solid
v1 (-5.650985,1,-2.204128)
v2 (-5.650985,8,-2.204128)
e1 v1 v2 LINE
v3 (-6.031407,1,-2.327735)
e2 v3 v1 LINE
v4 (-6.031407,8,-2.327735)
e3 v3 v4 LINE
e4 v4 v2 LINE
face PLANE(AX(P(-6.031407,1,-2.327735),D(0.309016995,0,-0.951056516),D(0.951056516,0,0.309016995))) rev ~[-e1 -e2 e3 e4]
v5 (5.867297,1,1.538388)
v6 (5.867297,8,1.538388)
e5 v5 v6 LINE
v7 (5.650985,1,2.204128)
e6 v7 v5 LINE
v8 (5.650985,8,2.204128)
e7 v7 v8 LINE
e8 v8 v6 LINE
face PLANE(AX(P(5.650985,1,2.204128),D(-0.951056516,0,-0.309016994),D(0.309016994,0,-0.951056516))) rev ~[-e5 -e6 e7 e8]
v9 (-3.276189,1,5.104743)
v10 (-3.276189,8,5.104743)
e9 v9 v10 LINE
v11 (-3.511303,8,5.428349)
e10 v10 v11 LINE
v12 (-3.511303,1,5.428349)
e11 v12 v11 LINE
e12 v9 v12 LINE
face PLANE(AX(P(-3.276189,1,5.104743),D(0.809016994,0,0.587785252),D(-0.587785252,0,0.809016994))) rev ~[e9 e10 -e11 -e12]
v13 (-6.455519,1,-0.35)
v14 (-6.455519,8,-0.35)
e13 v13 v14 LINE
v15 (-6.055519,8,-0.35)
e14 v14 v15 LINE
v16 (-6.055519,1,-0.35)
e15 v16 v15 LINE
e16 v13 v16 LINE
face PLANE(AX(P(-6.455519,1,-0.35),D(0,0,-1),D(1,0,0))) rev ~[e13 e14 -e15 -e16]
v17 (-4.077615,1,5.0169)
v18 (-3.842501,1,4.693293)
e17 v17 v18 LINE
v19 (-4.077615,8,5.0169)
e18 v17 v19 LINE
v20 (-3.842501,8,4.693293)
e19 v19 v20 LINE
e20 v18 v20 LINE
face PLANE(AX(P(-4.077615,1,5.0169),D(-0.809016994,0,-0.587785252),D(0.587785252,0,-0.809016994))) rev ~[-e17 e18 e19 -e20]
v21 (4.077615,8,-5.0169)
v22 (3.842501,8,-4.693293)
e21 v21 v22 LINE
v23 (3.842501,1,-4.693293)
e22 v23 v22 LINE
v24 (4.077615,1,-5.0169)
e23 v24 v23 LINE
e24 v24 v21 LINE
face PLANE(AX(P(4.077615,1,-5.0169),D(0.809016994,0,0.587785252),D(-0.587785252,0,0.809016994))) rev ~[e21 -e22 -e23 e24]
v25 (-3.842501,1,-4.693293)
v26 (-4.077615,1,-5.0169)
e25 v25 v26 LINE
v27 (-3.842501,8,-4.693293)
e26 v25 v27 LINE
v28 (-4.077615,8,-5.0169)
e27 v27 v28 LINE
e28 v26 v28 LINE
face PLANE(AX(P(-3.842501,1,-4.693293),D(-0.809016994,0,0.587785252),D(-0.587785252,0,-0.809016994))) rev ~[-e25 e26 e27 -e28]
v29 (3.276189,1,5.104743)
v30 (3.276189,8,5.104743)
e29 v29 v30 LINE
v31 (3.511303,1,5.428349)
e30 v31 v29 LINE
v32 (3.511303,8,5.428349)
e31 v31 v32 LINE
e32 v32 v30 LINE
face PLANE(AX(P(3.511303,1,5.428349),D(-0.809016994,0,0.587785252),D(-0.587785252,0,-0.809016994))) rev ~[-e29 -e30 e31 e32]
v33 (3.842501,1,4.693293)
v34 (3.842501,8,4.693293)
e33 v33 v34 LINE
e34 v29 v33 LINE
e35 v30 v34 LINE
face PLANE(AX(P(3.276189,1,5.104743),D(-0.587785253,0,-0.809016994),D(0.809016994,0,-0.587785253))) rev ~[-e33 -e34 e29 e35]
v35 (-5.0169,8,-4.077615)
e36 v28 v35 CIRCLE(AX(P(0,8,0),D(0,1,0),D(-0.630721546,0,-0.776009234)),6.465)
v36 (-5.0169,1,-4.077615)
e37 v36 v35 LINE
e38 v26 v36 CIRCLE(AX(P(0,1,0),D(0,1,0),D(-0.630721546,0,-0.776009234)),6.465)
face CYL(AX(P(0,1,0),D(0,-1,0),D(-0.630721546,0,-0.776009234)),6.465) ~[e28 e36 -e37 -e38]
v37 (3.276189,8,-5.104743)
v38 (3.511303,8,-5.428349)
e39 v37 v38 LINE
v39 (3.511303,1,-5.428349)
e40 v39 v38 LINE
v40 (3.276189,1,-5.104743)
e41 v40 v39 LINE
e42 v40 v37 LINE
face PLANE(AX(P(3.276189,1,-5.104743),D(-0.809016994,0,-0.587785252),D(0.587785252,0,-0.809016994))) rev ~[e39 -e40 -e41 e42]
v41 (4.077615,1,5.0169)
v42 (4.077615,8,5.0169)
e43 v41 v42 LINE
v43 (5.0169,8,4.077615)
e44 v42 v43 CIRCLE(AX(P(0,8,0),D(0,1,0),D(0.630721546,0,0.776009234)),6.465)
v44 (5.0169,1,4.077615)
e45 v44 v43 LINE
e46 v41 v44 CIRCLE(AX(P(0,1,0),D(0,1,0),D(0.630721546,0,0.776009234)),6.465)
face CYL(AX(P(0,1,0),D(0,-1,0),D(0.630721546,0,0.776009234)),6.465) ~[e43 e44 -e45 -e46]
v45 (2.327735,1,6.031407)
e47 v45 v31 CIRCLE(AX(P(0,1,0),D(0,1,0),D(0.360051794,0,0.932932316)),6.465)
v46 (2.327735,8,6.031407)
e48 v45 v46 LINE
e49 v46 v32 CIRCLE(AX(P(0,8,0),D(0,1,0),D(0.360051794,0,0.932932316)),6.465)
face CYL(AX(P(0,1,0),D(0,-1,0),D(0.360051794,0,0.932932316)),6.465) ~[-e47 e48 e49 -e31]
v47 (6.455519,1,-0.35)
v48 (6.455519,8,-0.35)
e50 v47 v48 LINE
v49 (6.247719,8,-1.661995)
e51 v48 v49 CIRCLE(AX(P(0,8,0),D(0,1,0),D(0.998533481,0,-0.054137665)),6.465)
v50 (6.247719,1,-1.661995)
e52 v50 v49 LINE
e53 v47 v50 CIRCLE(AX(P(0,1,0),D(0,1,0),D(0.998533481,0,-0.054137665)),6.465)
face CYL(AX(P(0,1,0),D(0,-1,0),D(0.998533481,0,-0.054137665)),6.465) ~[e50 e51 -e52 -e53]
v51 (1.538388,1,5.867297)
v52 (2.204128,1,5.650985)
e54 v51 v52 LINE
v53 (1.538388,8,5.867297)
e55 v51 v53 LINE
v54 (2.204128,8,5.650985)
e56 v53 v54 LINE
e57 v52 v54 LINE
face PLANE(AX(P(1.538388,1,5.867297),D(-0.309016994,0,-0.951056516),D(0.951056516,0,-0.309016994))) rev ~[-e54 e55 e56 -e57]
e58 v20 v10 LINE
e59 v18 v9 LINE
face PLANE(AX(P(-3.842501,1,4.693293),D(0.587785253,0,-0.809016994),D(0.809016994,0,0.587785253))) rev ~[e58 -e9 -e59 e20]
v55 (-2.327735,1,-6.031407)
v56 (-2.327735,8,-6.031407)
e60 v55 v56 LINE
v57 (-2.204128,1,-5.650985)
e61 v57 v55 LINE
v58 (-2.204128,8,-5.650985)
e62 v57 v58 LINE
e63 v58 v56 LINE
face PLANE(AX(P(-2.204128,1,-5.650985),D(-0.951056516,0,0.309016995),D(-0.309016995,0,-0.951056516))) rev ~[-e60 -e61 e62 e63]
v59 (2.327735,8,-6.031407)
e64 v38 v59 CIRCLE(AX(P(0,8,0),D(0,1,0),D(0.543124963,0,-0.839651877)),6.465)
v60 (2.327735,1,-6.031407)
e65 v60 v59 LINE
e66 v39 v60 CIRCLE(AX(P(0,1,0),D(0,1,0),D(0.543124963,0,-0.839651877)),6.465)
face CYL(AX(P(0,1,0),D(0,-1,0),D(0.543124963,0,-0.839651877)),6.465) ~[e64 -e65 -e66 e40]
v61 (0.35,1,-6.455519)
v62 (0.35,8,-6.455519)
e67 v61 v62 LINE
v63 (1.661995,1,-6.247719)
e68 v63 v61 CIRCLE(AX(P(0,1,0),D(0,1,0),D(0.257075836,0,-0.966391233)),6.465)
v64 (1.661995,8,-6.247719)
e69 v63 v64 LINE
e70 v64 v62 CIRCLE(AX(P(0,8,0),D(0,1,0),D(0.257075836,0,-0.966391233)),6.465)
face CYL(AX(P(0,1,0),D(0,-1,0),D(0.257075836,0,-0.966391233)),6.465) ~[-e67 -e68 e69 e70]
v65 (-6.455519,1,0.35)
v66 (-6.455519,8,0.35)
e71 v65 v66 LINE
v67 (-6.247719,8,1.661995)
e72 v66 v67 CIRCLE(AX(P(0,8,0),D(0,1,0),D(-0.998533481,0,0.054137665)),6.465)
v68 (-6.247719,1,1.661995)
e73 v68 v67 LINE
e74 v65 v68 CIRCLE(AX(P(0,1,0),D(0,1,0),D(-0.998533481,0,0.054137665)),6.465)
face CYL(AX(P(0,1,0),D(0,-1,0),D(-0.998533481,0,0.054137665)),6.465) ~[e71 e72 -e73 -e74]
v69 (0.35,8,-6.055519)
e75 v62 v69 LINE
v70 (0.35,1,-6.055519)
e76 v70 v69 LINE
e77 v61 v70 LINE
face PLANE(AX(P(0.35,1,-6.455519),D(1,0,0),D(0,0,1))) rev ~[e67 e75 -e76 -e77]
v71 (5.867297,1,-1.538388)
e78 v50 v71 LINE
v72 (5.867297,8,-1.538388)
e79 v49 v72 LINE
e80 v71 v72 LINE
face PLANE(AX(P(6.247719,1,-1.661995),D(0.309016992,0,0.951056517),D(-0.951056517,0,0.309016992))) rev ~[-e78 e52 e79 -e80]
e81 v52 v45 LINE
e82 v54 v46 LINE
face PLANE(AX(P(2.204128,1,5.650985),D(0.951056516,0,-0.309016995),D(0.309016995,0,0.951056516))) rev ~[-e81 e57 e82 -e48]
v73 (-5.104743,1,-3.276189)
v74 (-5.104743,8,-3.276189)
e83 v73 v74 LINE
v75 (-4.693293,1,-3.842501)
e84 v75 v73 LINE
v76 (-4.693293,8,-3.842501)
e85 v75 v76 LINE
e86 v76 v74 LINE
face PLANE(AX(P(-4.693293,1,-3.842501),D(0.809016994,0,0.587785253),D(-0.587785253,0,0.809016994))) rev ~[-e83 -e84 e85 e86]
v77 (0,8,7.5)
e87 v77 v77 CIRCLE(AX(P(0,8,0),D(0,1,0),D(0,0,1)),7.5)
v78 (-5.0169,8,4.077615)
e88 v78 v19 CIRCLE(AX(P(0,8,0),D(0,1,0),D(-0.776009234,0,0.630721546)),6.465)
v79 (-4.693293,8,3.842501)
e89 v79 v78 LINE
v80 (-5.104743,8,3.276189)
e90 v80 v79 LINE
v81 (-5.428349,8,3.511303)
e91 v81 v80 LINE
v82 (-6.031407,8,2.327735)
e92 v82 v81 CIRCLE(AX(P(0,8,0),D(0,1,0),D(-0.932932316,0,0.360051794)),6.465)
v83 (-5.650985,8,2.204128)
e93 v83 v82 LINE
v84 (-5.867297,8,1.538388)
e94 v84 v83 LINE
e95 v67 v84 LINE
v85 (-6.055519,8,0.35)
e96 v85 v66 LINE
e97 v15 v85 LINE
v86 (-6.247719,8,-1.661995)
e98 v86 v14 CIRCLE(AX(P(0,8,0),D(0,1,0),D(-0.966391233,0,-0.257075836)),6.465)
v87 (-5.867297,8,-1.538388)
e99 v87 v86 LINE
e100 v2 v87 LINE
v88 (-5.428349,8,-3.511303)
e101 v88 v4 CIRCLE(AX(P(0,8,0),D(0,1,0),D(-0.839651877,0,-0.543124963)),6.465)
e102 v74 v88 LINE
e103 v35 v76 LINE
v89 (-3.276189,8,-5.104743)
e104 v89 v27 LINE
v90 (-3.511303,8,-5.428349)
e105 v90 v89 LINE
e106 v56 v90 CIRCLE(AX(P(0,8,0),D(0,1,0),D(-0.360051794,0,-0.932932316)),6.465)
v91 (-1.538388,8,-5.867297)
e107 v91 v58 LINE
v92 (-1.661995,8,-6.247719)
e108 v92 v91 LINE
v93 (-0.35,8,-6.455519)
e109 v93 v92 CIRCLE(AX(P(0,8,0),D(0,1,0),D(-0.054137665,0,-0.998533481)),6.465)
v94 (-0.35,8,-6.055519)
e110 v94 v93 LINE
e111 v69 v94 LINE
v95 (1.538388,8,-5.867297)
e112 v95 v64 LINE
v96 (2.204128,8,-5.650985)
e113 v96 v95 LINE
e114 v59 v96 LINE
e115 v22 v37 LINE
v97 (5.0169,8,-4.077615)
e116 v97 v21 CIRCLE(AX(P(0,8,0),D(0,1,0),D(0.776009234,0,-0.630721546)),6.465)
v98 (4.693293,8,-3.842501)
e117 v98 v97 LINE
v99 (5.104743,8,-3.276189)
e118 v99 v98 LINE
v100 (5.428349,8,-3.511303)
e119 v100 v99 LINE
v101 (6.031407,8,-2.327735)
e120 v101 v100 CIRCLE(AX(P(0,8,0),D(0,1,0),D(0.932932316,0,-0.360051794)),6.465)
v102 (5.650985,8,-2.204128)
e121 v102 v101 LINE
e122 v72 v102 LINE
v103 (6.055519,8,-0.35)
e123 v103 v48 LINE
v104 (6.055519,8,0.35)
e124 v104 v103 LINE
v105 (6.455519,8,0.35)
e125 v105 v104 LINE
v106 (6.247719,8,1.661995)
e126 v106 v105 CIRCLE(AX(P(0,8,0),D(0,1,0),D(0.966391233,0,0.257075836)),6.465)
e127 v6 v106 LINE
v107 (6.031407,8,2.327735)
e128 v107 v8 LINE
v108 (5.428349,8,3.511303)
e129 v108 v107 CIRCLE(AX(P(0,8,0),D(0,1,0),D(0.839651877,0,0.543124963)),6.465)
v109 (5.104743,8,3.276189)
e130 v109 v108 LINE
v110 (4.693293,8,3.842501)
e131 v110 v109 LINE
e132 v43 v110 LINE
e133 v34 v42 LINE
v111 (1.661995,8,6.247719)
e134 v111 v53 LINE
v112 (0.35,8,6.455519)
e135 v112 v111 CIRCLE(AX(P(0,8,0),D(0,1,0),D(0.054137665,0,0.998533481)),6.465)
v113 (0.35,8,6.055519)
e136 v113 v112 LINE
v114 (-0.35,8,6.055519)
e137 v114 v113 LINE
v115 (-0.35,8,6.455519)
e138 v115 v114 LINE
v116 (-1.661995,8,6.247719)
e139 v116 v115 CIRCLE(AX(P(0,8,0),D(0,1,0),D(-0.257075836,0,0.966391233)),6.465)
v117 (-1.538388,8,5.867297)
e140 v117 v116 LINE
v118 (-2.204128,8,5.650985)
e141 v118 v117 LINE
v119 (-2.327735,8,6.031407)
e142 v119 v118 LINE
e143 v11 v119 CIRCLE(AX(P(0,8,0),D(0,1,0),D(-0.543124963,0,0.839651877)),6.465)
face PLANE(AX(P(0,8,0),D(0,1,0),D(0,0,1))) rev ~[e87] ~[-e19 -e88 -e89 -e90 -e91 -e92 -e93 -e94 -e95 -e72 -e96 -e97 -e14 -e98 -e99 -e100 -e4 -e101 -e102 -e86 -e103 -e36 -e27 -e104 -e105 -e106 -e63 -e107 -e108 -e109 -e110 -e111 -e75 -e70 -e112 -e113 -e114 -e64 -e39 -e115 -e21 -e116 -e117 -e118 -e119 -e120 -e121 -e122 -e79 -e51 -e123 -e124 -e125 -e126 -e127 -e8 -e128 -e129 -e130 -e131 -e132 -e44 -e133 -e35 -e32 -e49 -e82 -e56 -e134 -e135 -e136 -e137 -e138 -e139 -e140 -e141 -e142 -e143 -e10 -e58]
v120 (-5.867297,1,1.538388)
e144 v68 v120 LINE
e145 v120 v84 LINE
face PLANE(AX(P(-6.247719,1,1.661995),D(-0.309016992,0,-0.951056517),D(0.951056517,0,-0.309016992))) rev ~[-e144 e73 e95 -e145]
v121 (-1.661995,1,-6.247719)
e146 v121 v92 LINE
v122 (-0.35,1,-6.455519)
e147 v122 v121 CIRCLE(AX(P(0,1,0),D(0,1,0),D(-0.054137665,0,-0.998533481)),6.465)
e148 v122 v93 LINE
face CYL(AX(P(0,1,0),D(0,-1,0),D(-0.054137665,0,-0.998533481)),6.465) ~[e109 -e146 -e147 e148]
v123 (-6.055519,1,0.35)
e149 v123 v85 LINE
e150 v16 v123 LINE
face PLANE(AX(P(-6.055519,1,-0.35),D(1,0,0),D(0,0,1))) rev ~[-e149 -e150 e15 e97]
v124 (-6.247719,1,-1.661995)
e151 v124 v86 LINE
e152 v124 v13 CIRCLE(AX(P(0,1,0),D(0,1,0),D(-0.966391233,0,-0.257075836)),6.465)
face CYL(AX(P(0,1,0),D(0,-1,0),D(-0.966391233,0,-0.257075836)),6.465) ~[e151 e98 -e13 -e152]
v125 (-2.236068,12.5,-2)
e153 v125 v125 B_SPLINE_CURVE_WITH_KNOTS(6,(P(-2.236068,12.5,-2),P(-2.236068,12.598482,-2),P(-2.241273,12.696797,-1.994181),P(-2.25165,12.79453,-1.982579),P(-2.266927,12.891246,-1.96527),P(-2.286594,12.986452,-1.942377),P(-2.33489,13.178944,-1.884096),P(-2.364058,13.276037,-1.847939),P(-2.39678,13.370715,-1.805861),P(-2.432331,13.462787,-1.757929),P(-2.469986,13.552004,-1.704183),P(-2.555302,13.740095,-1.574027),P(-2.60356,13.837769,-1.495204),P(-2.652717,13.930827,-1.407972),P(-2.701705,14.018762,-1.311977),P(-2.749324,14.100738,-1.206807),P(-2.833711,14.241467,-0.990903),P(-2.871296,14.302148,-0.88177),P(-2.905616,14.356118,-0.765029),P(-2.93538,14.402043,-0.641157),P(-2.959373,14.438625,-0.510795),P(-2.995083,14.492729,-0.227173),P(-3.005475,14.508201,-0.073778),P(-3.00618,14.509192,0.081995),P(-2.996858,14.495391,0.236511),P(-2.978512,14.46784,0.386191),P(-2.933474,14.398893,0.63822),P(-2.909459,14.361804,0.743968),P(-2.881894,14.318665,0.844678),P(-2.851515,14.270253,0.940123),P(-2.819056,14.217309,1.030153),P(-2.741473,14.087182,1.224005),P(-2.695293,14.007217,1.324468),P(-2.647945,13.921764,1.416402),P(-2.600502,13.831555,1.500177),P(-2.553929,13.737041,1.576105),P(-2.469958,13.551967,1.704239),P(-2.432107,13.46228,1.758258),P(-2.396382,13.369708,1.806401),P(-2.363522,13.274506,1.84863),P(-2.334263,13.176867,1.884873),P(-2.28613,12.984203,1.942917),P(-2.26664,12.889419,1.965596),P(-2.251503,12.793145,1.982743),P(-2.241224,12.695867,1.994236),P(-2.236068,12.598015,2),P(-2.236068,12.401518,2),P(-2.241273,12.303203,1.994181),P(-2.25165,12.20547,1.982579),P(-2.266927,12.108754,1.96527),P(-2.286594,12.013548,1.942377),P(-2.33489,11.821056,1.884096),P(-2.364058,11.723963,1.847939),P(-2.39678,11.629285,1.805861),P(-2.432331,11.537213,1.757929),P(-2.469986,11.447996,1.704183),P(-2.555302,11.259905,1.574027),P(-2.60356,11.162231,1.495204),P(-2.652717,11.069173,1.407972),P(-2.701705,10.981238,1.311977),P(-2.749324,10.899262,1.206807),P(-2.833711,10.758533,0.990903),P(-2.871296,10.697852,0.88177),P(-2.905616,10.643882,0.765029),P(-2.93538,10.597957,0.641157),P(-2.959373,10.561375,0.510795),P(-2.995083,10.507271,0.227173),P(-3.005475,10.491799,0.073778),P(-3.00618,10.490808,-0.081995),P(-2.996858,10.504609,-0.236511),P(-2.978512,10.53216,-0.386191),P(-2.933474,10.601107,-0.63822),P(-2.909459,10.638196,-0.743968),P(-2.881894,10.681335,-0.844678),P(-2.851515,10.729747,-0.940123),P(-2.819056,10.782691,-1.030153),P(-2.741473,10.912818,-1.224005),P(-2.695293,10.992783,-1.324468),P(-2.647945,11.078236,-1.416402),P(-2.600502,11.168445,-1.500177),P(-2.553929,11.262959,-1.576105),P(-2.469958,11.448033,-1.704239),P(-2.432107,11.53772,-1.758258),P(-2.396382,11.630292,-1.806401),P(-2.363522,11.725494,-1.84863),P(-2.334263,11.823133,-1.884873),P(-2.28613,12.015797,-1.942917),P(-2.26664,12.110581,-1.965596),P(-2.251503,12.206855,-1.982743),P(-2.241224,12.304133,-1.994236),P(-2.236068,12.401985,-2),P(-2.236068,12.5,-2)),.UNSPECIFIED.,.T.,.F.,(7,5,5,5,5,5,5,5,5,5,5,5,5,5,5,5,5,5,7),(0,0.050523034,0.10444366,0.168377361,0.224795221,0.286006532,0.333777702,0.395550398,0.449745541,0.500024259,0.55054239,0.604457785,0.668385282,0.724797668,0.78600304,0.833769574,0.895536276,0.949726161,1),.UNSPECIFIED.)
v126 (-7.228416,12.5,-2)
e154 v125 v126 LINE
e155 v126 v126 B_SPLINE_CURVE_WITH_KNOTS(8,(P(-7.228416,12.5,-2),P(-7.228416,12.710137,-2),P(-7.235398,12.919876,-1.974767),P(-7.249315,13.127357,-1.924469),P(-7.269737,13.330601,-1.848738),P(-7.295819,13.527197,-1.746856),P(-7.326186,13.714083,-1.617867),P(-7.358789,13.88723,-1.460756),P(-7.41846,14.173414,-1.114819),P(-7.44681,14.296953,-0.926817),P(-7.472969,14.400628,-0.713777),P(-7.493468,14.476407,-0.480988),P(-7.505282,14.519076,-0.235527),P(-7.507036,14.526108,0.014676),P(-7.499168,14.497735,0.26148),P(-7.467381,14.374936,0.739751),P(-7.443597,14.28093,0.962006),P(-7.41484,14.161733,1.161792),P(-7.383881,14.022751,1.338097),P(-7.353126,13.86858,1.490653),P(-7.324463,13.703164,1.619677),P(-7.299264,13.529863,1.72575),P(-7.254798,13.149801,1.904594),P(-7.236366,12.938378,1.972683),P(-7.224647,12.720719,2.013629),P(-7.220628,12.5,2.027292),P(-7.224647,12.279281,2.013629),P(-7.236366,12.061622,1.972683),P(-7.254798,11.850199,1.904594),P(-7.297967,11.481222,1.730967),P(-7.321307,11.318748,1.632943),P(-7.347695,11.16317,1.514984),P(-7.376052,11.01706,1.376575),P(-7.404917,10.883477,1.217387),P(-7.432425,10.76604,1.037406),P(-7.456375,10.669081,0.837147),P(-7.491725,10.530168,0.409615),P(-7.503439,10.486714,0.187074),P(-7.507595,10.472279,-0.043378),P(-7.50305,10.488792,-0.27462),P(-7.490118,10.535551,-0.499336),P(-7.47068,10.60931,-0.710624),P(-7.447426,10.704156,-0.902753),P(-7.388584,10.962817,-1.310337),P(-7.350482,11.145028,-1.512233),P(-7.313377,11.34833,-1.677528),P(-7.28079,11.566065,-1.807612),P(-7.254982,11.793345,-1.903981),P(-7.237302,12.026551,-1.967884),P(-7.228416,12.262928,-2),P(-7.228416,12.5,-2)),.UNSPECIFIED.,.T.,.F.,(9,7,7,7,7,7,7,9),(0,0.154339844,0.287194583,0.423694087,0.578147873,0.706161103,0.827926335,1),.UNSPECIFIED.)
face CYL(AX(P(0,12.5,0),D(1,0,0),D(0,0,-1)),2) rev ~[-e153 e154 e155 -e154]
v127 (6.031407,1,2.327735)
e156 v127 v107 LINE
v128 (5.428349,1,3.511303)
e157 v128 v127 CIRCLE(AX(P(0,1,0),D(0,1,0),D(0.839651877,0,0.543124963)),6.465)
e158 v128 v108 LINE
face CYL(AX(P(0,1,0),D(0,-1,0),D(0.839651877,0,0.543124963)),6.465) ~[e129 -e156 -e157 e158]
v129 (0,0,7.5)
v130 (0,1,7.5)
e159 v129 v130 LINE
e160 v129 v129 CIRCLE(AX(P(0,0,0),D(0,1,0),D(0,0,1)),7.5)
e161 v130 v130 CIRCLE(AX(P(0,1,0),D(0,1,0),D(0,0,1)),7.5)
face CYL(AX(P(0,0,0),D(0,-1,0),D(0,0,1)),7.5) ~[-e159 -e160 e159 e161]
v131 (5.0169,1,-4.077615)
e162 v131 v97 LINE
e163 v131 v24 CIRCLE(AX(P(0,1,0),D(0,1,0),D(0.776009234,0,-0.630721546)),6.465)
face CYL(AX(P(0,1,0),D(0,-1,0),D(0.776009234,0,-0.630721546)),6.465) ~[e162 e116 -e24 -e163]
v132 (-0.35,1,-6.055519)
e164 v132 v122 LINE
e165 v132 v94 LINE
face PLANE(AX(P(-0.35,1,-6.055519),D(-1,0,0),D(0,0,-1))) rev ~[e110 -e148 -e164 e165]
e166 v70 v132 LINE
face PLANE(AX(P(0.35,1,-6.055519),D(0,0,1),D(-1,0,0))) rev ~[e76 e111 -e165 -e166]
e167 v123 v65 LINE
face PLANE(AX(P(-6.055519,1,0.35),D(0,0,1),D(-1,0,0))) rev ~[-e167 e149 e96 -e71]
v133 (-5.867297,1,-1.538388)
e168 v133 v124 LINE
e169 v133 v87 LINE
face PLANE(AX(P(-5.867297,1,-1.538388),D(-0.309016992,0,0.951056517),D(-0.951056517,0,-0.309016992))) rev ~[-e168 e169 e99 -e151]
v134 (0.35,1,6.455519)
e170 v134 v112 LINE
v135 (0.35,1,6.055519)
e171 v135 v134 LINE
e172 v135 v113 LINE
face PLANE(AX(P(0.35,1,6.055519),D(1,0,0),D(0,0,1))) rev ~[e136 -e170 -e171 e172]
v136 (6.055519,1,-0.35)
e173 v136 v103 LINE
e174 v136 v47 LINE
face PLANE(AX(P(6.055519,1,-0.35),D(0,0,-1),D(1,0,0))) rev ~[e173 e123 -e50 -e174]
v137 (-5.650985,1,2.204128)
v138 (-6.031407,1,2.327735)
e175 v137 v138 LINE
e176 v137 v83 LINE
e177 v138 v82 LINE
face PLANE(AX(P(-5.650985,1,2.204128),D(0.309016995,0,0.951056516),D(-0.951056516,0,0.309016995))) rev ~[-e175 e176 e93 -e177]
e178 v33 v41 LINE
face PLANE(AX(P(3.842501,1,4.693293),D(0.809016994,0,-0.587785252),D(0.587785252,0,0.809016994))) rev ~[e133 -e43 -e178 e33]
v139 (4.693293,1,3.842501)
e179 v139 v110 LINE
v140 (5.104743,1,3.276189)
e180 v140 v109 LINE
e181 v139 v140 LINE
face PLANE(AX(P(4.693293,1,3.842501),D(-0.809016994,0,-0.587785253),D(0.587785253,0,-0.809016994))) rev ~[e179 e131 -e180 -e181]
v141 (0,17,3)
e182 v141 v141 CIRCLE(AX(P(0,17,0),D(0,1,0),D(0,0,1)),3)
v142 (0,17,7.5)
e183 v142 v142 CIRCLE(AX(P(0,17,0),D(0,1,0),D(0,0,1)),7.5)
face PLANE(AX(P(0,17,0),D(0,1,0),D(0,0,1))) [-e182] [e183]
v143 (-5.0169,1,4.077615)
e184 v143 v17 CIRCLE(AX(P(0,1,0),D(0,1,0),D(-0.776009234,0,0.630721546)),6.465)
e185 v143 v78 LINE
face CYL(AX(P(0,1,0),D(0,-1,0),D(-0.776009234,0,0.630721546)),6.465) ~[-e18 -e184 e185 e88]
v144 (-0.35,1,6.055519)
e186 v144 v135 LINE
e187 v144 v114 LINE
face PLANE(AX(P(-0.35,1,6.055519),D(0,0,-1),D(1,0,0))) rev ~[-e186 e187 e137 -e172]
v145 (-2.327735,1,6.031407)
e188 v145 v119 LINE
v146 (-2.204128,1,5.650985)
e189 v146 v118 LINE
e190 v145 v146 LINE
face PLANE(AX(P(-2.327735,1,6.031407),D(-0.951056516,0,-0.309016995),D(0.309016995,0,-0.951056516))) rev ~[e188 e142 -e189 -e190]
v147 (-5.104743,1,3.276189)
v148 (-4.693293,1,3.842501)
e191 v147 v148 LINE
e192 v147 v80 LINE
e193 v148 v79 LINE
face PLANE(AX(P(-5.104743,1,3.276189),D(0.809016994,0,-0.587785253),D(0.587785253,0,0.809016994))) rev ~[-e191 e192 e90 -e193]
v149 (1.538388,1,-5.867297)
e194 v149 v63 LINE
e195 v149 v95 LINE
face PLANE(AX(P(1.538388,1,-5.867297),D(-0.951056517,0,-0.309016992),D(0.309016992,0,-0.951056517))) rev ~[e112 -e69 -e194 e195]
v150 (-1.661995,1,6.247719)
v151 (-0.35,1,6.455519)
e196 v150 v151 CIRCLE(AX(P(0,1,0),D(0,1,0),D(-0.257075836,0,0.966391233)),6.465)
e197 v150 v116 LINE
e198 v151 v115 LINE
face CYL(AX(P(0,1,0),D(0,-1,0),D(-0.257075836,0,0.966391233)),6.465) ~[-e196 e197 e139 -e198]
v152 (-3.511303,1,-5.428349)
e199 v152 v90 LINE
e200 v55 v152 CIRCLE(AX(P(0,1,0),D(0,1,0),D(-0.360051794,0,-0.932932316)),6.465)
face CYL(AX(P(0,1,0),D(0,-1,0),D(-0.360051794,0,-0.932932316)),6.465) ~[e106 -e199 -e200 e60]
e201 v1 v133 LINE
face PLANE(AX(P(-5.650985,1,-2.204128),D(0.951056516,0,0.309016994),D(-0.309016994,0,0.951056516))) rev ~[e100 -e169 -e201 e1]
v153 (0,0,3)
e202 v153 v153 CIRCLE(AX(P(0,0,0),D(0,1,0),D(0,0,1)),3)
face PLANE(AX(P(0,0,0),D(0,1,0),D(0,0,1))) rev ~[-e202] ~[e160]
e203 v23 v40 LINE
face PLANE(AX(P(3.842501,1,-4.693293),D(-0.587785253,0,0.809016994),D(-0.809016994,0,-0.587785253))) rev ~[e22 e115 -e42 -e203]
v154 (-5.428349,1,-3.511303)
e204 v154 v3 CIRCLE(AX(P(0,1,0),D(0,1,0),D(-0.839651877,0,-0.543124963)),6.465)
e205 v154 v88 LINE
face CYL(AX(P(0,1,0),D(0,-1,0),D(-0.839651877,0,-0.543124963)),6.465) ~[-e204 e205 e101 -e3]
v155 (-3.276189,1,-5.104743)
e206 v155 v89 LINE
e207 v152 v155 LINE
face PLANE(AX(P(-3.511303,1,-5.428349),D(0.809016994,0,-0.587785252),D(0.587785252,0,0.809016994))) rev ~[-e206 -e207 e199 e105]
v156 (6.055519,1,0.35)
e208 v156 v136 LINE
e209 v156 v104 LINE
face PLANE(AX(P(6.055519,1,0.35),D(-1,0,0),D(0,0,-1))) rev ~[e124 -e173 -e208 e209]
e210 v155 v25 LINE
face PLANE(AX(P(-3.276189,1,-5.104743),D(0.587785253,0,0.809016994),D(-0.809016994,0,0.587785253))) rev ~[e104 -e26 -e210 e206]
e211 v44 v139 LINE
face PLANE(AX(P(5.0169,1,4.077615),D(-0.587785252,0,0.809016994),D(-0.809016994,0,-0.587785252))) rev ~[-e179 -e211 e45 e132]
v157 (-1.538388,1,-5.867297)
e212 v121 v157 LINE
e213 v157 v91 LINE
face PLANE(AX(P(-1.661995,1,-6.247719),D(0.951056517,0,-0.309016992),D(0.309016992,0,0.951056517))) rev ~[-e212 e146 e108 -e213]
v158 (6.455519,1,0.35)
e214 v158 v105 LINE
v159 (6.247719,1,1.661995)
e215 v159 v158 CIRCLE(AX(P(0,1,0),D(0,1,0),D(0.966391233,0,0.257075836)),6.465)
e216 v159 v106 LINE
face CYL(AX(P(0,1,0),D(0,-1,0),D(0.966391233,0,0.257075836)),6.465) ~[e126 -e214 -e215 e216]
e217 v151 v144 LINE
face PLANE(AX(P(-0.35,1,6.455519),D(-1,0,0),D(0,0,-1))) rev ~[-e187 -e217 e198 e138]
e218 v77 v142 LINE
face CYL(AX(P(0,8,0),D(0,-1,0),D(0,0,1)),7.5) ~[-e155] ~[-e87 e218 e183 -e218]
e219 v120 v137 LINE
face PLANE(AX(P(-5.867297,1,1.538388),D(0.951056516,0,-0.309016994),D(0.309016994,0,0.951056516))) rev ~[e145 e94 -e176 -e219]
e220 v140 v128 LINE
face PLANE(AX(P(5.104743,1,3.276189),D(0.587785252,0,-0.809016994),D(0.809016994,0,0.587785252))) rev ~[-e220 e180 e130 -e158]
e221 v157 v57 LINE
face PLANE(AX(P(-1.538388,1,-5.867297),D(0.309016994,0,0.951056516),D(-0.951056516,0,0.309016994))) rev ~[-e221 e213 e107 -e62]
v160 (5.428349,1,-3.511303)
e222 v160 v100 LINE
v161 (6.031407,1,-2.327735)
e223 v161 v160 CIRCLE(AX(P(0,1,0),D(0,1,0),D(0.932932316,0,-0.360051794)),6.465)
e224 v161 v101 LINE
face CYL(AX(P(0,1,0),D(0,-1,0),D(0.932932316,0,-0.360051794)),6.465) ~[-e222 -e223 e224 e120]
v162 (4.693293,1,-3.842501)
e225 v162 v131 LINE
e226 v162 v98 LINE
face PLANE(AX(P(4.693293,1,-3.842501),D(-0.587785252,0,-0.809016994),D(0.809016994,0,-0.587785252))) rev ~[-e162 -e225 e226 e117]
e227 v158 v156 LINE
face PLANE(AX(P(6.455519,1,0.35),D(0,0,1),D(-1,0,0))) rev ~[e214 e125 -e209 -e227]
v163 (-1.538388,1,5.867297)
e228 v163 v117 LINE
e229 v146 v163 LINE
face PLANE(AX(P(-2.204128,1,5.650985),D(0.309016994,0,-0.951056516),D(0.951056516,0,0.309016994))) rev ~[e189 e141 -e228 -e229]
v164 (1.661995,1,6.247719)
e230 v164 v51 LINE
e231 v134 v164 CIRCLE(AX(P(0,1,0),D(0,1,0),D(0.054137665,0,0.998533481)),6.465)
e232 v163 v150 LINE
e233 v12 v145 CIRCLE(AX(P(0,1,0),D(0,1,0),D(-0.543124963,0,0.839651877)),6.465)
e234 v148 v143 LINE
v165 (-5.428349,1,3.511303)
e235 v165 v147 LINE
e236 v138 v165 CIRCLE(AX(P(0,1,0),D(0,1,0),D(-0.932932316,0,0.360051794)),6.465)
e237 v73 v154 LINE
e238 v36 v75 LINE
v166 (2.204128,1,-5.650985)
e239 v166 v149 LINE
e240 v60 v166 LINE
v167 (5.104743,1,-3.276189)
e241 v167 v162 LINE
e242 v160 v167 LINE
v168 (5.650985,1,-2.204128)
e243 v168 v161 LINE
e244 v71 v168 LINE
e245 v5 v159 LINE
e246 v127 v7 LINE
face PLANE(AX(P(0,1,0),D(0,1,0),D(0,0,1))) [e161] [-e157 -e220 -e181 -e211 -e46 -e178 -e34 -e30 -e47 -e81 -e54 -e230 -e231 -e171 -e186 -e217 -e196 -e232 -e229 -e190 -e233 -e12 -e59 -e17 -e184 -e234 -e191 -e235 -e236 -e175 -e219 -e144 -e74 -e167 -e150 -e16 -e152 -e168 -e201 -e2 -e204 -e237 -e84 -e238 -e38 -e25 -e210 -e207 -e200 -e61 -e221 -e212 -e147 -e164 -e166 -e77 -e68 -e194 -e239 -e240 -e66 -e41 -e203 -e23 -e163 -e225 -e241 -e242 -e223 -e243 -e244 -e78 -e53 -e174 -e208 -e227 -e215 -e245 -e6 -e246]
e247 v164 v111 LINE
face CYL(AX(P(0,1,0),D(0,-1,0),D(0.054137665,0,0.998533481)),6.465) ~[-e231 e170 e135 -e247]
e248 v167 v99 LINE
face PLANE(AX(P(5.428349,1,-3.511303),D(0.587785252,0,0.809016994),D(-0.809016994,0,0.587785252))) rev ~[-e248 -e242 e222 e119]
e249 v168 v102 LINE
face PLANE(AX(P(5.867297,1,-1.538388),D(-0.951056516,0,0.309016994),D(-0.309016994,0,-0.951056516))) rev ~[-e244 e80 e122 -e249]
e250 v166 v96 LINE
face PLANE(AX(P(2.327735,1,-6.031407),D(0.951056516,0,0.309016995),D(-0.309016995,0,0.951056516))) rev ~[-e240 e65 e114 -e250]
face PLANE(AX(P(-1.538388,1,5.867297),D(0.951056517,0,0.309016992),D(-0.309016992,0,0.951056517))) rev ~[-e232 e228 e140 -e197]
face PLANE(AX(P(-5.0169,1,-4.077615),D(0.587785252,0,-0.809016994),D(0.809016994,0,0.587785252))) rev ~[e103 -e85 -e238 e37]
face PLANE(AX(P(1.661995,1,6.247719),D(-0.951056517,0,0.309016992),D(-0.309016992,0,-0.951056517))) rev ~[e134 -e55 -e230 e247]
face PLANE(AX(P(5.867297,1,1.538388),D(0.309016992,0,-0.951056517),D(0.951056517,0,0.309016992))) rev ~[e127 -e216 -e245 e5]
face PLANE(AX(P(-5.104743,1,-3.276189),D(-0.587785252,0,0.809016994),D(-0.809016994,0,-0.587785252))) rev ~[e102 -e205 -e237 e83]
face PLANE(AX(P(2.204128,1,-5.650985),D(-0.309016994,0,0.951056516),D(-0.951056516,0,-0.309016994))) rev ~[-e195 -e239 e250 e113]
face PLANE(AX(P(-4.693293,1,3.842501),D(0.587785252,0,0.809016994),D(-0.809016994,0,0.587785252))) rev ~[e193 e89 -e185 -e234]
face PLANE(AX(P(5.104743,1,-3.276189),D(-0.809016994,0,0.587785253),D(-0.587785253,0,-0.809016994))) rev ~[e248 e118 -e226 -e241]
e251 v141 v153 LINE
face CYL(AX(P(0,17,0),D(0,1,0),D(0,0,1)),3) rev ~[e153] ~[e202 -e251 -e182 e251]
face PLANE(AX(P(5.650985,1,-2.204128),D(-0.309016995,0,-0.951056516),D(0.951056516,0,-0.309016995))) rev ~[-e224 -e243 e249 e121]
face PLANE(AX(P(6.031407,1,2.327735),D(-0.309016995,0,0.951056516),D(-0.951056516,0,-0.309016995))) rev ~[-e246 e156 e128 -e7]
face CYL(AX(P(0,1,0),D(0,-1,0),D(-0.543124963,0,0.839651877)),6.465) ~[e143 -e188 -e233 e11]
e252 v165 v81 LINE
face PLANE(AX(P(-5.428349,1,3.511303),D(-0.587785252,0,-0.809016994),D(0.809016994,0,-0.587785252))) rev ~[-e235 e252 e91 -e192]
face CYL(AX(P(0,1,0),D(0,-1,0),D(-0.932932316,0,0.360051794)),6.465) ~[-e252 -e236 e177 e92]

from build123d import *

# Parameters (mm, degrees)
SKETCH_1_R               = 7.5
EXTRUDE_1_DEPTH          = 1
EXTRUDE_2_DEPTH          = 7
SKETCH_3_R               = 7.5
EXTRUDE_3_DEPTH          = 9
CUT_EXTRUDE_1_REACH      = 22.037
SKETCH_4_R               = 3
CUT_EXTRUDE_2_REACH      = 22.037
CUT_EXTRUDE_2_END_RADIUS = 7.5
SKETCH_5_R               = 2


with BuildPart() as part:
    # 草图1 → 凸台-拉伸1 (new body)
    with BuildSketch(Plane(origin=(0, 0, 0), x_dir=(1, 0, 0), z_dir=(0, 1, 0))):
        with Locations(Location((0, 0, 0), (0, 0, 270))):
            Circle(SKETCH_1_R)
    extrude(amount=EXTRUDE_1_DEPTH)

    # 草图2 → 凸台-拉伸2 (add)
    with BuildSketch(Plane(origin=(0, 1, 0), x_dir=(1, 0, 0), z_dir=(0, 1, 0))):
        with BuildLine():
            Line((-0.35, 6.055518957), (-0.35, 6.455518957))
            ThreePointArc((-0.35, 6.455518957), (-1.011348816, 6.385405122), (-1.661995284, 6.247719318))
            Line((-1.661995284, 6.247719318), (-1.538388487, 5.867296711))
            Line((-1.538388487, 5.867296711), (-2.204128048, 5.650984815))
            Line((-2.204128048, 5.650984815), (-2.327734846, 6.031407422))
            ThreePointArc((-2.327734846, 6.031407422), (-2.935048581, 5.760357179), (-3.511302891, 5.428349382))
            Line((-3.511302891, 5.428349382), (-3.27618879, 5.104742584))
            Line((-3.27618879, 5.104742584), (-3.842500686, 4.693292907))
            Line((-3.842500686, 4.693292907), (-4.077614787, 5.016899705))
            ThreePointArc((-4.077614787, 5.016899705), (-4.57144534, 4.57144534), (-5.016899705, 4.077614787))
            Line((-5.016899705, 4.077614787), (-4.693292907, 3.842500686))
            Line((-4.693292907, 3.842500686), (-5.104742584, 3.27618879))
            Line((-5.104742584, 3.27618879), (-5.428349382, 3.511302891))
            ThreePointArc((-5.428349382, 3.511302891), (-5.760357179, 2.935048581), (-6.031407422, 2.327734846))
            Line((-6.031407422, 2.327734846), (-5.650984815, 2.204128048))
            Line((-5.650984815, 2.204128048), (-5.867296711, 1.538388487))
            Line((-5.867296711, 1.538388487), (-6.247719318, 1.661995284))
            ThreePointArc((-6.247719318, 1.661995284), (-6.385405122, 1.011348816), (-6.455518957, 0.35))
            Line((-6.455518957, 0.35), (-6.055518957, 0.35))
            Line((-6.055518957, 0.35), (-6.055518957, -0.35))
            Line((-6.055518957, -0.35), (-6.455518957, -0.35))
            ThreePointArc((-6.455518957, -0.35), (-6.385405122, -1.011348816), (-6.247719318, -1.661995284))
            Line((-6.247719318, -1.661995284), (-5.867296711, -1.538388487))
            Line((-5.867296711, -1.538388487), (-5.650984815, -2.204128048))
            Line((-5.650984815, -2.204128048), (-6.031407422, -2.327734846))
            ThreePointArc((-6.031407422, -2.327734846), (-5.760357179, -2.935048581), (-5.428349382, -3.511302891))
            Line((-5.428349382, -3.511302891), (-5.104742584, -3.27618879))
            Line((-5.104742584, -3.27618879), (-4.693292907, -3.842500686))
            Line((-4.693292907, -3.842500686), (-5.016899705, -4.077614787))
            ThreePointArc((-5.016899705, -4.077614787), (-4.57144534, -4.57144534), (-4.077614787, -5.016899705))
            Line((-4.077614787, -5.016899705), (-3.842500686, -4.693292907))
            Line((-3.842500686, -4.693292907), (-3.27618879, -5.104742584))
            Line((-3.27618879, -5.104742584), (-3.511302891, -5.428349382))
            ThreePointArc((-3.511302891, -5.428349382), (-2.935048581, -5.760357179), (-2.327734846, -6.031407422))
            Line((-2.327734846, -6.031407422), (-2.204128048, -5.650984815))
            Line((-2.204128048, -5.650984815), (-1.538388487, -5.867296711))
            Line((-1.538388487, -5.867296711), (-1.661995284, -6.247719318))
            ThreePointArc((-1.661995284, -6.247719318), (-1.011348816, -6.385405122), (-0.35, -6.455518957))
            Line((-0.35, -6.455518957), (-0.35, -6.055518957))
            Line((-0.35, -6.055518957), (0.35, -6.055518957))
            Line((0.35, -6.055518957), (0.35, -6.455518957))
            ThreePointArc((0.35, -6.455518957), (1.011348816, -6.385405122), (1.661995284, -6.247719318))
            Line((1.661995284, -6.247719318), (1.538388487, -5.867296711))
            Line((1.538388487, -5.867296711), (2.204128048, -5.650984815))
            Line((2.204128048, -5.650984815), (2.327734846, -6.031407422))
            ThreePointArc((2.327734846, -6.031407422), (2.935048581, -5.760357179), (3.511302891, -5.428349382))
            Line((3.511302891, -5.428349382), (3.27618879, -5.104742584))
            Line((3.27618879, -5.104742584), (3.842500686, -4.693292907))
            Line((3.842500686, -4.693292907), (4.077614787, -5.016899705))
            ThreePointArc((4.077614787, -5.016899705), (4.57144534, -4.57144534), (5.016899705, -4.077614787))
            Line((5.016899705, -4.077614787), (4.693292907, -3.842500686))
            Line((4.693292907, -3.842500686), (5.104742584, -3.27618879))
            Line((5.104742584, -3.27618879), (5.428349382, -3.511302891))
            ThreePointArc((5.428349382, -3.511302891), (5.760357179, -2.935048581), (6.031407422, -2.327734846))
            Line((6.031407422, -2.327734846), (5.650984815, -2.204128048))
            Line((5.650984815, -2.204128048), (5.867296711, -1.538388487))
            Line((5.867296711, -1.538388487), (6.247719318, -1.661995284))
            ThreePointArc((6.247719318, -1.661995284), (6.385405122, -1.011348816), (6.455518957, -0.35))
            Line((6.455518957, -0.35), (6.055518957, -0.35))
            Line((6.055518957, -0.35), (6.055518957, 0.35))
            Line((6.055518957, 0.35), (6.455518957, 0.35))
            ThreePointArc((6.455518957, 0.35), (6.385405122, 1.011348816), (6.247719318, 1.661995284))
            Line((6.247719318, 1.661995284), (5.867296711, 1.538388487))
            Line((5.867296711, 1.538388487), (5.650984815, 2.204128048))
            Line((5.650984815, 2.204128048), (6.031407422, 2.327734846))
            ThreePointArc((6.031407422, 2.327734846), (5.760357179, 2.935048581), (5.428349382, 3.511302891))
            Line((5.428349382, 3.511302891), (5.104742584, 3.27618879))
            Line((5.104742584, 3.27618879), (4.693292907, 3.842500686))
            Line((4.693292907, 3.842500686), (5.016899705, 4.077614787))
            ThreePointArc((5.016899705, 4.077614787), (4.57144534, 4.57144534), (4.077614787, 5.016899705))
            Line((4.077614787, 5.016899705), (3.842500686, 4.693292907))
            Line((3.842500686, 4.693292907), (3.27618879, 5.104742584))
            Line((3.27618879, 5.104742584), (3.511302891, 5.428349382))
            ThreePointArc((3.511302891, 5.428349382), (2.935048581, 5.760357179), (2.327734846, 6.031407422))
            Line((2.327734846, 6.031407422), (2.204128048, 5.650984815))
            Line((2.204128048, 5.650984815), (1.538388487, 5.867296711))
            Line((1.538388487, 5.867296711), (1.661995284, 6.247719318))
            ThreePointArc((1.661995284, 6.247719318), (1.011348816, 6.385405122), (0.35, 6.455518957))
            Line((0.35, 6.455518957), (0.35, 6.055518957))
            Line((0.35, 6.055518957), (-0.35, 6.055518957))
        make_face()
    extrude(amount=EXTRUDE_2_DEPTH)

    # 草图3 → 凸台-拉伸3 (add)
    with BuildSketch(Plane(origin=(0, 8, 0), x_dir=(1, 0, 0), z_dir=(0, 1, 0))):
        with Locations(Location((0, 0, 0), (0, 0, 270))):
            Circle(SKETCH_3_R)
    extrude(amount=EXTRUDE_3_DEPTH)

    # 草图4 → 切除-拉伸1 (cut, up to next)
    with BuildSketch(Plane(origin=(0, 17, 0), x_dir=(1, 0, 0), z_dir=(0, 1, 0)), mode=Mode.PRIVATE) as cut_extrude_1_sk1:
        with Locations(Location((0, 0, 0), (0, 0, 270))):
            Circle(SKETCH_4_R)
    cut_extrude_1_tool1 = extrude(cut_extrude_1_sk1.sketch, amount=-CUT_EXTRUDE_1_REACH, mode=Mode.PRIVATE) & part.part
    add(cut_extrude_1_tool1.solids().sort_by_distance((0, 17, 0))[0], mode=Mode.SUBTRACT)

    # 切除-拉伸2: up to this cylinder (the profile starts inside it)
    cut_extrude_2_end = Plane(origin=(0, 12.5, 0), z_dir=(0, -1, 0)) * Cylinder(CUT_EXTRUDE_2_END_RADIUS, 60.074, mode=Mode.PRIVATE)
    # 草图5 → 切除-拉伸2 (cut, up to the surface)
    with BuildSketch(Plane(origin=(0, 0, 0), x_dir=(0, 0, -1), z_dir=(1, 0, 0)), mode=Mode.PRIVATE) as cut_extrude_2_sk1:
        with Locations((0, 12.5)):
            Circle(SKETCH_5_R)
    cut_extrude_2_tool1 = extrude(cut_extrude_2_sk1.sketch, amount=-CUT_EXTRUDE_2_REACH, mode=Mode.PRIVATE) & cut_extrude_2_end
    add(cut_extrude_2_tool1.solids().sort_by_distance((0, 12.5, 0))[0], mode=Mode.SUBTRACT)


solid = part.part
